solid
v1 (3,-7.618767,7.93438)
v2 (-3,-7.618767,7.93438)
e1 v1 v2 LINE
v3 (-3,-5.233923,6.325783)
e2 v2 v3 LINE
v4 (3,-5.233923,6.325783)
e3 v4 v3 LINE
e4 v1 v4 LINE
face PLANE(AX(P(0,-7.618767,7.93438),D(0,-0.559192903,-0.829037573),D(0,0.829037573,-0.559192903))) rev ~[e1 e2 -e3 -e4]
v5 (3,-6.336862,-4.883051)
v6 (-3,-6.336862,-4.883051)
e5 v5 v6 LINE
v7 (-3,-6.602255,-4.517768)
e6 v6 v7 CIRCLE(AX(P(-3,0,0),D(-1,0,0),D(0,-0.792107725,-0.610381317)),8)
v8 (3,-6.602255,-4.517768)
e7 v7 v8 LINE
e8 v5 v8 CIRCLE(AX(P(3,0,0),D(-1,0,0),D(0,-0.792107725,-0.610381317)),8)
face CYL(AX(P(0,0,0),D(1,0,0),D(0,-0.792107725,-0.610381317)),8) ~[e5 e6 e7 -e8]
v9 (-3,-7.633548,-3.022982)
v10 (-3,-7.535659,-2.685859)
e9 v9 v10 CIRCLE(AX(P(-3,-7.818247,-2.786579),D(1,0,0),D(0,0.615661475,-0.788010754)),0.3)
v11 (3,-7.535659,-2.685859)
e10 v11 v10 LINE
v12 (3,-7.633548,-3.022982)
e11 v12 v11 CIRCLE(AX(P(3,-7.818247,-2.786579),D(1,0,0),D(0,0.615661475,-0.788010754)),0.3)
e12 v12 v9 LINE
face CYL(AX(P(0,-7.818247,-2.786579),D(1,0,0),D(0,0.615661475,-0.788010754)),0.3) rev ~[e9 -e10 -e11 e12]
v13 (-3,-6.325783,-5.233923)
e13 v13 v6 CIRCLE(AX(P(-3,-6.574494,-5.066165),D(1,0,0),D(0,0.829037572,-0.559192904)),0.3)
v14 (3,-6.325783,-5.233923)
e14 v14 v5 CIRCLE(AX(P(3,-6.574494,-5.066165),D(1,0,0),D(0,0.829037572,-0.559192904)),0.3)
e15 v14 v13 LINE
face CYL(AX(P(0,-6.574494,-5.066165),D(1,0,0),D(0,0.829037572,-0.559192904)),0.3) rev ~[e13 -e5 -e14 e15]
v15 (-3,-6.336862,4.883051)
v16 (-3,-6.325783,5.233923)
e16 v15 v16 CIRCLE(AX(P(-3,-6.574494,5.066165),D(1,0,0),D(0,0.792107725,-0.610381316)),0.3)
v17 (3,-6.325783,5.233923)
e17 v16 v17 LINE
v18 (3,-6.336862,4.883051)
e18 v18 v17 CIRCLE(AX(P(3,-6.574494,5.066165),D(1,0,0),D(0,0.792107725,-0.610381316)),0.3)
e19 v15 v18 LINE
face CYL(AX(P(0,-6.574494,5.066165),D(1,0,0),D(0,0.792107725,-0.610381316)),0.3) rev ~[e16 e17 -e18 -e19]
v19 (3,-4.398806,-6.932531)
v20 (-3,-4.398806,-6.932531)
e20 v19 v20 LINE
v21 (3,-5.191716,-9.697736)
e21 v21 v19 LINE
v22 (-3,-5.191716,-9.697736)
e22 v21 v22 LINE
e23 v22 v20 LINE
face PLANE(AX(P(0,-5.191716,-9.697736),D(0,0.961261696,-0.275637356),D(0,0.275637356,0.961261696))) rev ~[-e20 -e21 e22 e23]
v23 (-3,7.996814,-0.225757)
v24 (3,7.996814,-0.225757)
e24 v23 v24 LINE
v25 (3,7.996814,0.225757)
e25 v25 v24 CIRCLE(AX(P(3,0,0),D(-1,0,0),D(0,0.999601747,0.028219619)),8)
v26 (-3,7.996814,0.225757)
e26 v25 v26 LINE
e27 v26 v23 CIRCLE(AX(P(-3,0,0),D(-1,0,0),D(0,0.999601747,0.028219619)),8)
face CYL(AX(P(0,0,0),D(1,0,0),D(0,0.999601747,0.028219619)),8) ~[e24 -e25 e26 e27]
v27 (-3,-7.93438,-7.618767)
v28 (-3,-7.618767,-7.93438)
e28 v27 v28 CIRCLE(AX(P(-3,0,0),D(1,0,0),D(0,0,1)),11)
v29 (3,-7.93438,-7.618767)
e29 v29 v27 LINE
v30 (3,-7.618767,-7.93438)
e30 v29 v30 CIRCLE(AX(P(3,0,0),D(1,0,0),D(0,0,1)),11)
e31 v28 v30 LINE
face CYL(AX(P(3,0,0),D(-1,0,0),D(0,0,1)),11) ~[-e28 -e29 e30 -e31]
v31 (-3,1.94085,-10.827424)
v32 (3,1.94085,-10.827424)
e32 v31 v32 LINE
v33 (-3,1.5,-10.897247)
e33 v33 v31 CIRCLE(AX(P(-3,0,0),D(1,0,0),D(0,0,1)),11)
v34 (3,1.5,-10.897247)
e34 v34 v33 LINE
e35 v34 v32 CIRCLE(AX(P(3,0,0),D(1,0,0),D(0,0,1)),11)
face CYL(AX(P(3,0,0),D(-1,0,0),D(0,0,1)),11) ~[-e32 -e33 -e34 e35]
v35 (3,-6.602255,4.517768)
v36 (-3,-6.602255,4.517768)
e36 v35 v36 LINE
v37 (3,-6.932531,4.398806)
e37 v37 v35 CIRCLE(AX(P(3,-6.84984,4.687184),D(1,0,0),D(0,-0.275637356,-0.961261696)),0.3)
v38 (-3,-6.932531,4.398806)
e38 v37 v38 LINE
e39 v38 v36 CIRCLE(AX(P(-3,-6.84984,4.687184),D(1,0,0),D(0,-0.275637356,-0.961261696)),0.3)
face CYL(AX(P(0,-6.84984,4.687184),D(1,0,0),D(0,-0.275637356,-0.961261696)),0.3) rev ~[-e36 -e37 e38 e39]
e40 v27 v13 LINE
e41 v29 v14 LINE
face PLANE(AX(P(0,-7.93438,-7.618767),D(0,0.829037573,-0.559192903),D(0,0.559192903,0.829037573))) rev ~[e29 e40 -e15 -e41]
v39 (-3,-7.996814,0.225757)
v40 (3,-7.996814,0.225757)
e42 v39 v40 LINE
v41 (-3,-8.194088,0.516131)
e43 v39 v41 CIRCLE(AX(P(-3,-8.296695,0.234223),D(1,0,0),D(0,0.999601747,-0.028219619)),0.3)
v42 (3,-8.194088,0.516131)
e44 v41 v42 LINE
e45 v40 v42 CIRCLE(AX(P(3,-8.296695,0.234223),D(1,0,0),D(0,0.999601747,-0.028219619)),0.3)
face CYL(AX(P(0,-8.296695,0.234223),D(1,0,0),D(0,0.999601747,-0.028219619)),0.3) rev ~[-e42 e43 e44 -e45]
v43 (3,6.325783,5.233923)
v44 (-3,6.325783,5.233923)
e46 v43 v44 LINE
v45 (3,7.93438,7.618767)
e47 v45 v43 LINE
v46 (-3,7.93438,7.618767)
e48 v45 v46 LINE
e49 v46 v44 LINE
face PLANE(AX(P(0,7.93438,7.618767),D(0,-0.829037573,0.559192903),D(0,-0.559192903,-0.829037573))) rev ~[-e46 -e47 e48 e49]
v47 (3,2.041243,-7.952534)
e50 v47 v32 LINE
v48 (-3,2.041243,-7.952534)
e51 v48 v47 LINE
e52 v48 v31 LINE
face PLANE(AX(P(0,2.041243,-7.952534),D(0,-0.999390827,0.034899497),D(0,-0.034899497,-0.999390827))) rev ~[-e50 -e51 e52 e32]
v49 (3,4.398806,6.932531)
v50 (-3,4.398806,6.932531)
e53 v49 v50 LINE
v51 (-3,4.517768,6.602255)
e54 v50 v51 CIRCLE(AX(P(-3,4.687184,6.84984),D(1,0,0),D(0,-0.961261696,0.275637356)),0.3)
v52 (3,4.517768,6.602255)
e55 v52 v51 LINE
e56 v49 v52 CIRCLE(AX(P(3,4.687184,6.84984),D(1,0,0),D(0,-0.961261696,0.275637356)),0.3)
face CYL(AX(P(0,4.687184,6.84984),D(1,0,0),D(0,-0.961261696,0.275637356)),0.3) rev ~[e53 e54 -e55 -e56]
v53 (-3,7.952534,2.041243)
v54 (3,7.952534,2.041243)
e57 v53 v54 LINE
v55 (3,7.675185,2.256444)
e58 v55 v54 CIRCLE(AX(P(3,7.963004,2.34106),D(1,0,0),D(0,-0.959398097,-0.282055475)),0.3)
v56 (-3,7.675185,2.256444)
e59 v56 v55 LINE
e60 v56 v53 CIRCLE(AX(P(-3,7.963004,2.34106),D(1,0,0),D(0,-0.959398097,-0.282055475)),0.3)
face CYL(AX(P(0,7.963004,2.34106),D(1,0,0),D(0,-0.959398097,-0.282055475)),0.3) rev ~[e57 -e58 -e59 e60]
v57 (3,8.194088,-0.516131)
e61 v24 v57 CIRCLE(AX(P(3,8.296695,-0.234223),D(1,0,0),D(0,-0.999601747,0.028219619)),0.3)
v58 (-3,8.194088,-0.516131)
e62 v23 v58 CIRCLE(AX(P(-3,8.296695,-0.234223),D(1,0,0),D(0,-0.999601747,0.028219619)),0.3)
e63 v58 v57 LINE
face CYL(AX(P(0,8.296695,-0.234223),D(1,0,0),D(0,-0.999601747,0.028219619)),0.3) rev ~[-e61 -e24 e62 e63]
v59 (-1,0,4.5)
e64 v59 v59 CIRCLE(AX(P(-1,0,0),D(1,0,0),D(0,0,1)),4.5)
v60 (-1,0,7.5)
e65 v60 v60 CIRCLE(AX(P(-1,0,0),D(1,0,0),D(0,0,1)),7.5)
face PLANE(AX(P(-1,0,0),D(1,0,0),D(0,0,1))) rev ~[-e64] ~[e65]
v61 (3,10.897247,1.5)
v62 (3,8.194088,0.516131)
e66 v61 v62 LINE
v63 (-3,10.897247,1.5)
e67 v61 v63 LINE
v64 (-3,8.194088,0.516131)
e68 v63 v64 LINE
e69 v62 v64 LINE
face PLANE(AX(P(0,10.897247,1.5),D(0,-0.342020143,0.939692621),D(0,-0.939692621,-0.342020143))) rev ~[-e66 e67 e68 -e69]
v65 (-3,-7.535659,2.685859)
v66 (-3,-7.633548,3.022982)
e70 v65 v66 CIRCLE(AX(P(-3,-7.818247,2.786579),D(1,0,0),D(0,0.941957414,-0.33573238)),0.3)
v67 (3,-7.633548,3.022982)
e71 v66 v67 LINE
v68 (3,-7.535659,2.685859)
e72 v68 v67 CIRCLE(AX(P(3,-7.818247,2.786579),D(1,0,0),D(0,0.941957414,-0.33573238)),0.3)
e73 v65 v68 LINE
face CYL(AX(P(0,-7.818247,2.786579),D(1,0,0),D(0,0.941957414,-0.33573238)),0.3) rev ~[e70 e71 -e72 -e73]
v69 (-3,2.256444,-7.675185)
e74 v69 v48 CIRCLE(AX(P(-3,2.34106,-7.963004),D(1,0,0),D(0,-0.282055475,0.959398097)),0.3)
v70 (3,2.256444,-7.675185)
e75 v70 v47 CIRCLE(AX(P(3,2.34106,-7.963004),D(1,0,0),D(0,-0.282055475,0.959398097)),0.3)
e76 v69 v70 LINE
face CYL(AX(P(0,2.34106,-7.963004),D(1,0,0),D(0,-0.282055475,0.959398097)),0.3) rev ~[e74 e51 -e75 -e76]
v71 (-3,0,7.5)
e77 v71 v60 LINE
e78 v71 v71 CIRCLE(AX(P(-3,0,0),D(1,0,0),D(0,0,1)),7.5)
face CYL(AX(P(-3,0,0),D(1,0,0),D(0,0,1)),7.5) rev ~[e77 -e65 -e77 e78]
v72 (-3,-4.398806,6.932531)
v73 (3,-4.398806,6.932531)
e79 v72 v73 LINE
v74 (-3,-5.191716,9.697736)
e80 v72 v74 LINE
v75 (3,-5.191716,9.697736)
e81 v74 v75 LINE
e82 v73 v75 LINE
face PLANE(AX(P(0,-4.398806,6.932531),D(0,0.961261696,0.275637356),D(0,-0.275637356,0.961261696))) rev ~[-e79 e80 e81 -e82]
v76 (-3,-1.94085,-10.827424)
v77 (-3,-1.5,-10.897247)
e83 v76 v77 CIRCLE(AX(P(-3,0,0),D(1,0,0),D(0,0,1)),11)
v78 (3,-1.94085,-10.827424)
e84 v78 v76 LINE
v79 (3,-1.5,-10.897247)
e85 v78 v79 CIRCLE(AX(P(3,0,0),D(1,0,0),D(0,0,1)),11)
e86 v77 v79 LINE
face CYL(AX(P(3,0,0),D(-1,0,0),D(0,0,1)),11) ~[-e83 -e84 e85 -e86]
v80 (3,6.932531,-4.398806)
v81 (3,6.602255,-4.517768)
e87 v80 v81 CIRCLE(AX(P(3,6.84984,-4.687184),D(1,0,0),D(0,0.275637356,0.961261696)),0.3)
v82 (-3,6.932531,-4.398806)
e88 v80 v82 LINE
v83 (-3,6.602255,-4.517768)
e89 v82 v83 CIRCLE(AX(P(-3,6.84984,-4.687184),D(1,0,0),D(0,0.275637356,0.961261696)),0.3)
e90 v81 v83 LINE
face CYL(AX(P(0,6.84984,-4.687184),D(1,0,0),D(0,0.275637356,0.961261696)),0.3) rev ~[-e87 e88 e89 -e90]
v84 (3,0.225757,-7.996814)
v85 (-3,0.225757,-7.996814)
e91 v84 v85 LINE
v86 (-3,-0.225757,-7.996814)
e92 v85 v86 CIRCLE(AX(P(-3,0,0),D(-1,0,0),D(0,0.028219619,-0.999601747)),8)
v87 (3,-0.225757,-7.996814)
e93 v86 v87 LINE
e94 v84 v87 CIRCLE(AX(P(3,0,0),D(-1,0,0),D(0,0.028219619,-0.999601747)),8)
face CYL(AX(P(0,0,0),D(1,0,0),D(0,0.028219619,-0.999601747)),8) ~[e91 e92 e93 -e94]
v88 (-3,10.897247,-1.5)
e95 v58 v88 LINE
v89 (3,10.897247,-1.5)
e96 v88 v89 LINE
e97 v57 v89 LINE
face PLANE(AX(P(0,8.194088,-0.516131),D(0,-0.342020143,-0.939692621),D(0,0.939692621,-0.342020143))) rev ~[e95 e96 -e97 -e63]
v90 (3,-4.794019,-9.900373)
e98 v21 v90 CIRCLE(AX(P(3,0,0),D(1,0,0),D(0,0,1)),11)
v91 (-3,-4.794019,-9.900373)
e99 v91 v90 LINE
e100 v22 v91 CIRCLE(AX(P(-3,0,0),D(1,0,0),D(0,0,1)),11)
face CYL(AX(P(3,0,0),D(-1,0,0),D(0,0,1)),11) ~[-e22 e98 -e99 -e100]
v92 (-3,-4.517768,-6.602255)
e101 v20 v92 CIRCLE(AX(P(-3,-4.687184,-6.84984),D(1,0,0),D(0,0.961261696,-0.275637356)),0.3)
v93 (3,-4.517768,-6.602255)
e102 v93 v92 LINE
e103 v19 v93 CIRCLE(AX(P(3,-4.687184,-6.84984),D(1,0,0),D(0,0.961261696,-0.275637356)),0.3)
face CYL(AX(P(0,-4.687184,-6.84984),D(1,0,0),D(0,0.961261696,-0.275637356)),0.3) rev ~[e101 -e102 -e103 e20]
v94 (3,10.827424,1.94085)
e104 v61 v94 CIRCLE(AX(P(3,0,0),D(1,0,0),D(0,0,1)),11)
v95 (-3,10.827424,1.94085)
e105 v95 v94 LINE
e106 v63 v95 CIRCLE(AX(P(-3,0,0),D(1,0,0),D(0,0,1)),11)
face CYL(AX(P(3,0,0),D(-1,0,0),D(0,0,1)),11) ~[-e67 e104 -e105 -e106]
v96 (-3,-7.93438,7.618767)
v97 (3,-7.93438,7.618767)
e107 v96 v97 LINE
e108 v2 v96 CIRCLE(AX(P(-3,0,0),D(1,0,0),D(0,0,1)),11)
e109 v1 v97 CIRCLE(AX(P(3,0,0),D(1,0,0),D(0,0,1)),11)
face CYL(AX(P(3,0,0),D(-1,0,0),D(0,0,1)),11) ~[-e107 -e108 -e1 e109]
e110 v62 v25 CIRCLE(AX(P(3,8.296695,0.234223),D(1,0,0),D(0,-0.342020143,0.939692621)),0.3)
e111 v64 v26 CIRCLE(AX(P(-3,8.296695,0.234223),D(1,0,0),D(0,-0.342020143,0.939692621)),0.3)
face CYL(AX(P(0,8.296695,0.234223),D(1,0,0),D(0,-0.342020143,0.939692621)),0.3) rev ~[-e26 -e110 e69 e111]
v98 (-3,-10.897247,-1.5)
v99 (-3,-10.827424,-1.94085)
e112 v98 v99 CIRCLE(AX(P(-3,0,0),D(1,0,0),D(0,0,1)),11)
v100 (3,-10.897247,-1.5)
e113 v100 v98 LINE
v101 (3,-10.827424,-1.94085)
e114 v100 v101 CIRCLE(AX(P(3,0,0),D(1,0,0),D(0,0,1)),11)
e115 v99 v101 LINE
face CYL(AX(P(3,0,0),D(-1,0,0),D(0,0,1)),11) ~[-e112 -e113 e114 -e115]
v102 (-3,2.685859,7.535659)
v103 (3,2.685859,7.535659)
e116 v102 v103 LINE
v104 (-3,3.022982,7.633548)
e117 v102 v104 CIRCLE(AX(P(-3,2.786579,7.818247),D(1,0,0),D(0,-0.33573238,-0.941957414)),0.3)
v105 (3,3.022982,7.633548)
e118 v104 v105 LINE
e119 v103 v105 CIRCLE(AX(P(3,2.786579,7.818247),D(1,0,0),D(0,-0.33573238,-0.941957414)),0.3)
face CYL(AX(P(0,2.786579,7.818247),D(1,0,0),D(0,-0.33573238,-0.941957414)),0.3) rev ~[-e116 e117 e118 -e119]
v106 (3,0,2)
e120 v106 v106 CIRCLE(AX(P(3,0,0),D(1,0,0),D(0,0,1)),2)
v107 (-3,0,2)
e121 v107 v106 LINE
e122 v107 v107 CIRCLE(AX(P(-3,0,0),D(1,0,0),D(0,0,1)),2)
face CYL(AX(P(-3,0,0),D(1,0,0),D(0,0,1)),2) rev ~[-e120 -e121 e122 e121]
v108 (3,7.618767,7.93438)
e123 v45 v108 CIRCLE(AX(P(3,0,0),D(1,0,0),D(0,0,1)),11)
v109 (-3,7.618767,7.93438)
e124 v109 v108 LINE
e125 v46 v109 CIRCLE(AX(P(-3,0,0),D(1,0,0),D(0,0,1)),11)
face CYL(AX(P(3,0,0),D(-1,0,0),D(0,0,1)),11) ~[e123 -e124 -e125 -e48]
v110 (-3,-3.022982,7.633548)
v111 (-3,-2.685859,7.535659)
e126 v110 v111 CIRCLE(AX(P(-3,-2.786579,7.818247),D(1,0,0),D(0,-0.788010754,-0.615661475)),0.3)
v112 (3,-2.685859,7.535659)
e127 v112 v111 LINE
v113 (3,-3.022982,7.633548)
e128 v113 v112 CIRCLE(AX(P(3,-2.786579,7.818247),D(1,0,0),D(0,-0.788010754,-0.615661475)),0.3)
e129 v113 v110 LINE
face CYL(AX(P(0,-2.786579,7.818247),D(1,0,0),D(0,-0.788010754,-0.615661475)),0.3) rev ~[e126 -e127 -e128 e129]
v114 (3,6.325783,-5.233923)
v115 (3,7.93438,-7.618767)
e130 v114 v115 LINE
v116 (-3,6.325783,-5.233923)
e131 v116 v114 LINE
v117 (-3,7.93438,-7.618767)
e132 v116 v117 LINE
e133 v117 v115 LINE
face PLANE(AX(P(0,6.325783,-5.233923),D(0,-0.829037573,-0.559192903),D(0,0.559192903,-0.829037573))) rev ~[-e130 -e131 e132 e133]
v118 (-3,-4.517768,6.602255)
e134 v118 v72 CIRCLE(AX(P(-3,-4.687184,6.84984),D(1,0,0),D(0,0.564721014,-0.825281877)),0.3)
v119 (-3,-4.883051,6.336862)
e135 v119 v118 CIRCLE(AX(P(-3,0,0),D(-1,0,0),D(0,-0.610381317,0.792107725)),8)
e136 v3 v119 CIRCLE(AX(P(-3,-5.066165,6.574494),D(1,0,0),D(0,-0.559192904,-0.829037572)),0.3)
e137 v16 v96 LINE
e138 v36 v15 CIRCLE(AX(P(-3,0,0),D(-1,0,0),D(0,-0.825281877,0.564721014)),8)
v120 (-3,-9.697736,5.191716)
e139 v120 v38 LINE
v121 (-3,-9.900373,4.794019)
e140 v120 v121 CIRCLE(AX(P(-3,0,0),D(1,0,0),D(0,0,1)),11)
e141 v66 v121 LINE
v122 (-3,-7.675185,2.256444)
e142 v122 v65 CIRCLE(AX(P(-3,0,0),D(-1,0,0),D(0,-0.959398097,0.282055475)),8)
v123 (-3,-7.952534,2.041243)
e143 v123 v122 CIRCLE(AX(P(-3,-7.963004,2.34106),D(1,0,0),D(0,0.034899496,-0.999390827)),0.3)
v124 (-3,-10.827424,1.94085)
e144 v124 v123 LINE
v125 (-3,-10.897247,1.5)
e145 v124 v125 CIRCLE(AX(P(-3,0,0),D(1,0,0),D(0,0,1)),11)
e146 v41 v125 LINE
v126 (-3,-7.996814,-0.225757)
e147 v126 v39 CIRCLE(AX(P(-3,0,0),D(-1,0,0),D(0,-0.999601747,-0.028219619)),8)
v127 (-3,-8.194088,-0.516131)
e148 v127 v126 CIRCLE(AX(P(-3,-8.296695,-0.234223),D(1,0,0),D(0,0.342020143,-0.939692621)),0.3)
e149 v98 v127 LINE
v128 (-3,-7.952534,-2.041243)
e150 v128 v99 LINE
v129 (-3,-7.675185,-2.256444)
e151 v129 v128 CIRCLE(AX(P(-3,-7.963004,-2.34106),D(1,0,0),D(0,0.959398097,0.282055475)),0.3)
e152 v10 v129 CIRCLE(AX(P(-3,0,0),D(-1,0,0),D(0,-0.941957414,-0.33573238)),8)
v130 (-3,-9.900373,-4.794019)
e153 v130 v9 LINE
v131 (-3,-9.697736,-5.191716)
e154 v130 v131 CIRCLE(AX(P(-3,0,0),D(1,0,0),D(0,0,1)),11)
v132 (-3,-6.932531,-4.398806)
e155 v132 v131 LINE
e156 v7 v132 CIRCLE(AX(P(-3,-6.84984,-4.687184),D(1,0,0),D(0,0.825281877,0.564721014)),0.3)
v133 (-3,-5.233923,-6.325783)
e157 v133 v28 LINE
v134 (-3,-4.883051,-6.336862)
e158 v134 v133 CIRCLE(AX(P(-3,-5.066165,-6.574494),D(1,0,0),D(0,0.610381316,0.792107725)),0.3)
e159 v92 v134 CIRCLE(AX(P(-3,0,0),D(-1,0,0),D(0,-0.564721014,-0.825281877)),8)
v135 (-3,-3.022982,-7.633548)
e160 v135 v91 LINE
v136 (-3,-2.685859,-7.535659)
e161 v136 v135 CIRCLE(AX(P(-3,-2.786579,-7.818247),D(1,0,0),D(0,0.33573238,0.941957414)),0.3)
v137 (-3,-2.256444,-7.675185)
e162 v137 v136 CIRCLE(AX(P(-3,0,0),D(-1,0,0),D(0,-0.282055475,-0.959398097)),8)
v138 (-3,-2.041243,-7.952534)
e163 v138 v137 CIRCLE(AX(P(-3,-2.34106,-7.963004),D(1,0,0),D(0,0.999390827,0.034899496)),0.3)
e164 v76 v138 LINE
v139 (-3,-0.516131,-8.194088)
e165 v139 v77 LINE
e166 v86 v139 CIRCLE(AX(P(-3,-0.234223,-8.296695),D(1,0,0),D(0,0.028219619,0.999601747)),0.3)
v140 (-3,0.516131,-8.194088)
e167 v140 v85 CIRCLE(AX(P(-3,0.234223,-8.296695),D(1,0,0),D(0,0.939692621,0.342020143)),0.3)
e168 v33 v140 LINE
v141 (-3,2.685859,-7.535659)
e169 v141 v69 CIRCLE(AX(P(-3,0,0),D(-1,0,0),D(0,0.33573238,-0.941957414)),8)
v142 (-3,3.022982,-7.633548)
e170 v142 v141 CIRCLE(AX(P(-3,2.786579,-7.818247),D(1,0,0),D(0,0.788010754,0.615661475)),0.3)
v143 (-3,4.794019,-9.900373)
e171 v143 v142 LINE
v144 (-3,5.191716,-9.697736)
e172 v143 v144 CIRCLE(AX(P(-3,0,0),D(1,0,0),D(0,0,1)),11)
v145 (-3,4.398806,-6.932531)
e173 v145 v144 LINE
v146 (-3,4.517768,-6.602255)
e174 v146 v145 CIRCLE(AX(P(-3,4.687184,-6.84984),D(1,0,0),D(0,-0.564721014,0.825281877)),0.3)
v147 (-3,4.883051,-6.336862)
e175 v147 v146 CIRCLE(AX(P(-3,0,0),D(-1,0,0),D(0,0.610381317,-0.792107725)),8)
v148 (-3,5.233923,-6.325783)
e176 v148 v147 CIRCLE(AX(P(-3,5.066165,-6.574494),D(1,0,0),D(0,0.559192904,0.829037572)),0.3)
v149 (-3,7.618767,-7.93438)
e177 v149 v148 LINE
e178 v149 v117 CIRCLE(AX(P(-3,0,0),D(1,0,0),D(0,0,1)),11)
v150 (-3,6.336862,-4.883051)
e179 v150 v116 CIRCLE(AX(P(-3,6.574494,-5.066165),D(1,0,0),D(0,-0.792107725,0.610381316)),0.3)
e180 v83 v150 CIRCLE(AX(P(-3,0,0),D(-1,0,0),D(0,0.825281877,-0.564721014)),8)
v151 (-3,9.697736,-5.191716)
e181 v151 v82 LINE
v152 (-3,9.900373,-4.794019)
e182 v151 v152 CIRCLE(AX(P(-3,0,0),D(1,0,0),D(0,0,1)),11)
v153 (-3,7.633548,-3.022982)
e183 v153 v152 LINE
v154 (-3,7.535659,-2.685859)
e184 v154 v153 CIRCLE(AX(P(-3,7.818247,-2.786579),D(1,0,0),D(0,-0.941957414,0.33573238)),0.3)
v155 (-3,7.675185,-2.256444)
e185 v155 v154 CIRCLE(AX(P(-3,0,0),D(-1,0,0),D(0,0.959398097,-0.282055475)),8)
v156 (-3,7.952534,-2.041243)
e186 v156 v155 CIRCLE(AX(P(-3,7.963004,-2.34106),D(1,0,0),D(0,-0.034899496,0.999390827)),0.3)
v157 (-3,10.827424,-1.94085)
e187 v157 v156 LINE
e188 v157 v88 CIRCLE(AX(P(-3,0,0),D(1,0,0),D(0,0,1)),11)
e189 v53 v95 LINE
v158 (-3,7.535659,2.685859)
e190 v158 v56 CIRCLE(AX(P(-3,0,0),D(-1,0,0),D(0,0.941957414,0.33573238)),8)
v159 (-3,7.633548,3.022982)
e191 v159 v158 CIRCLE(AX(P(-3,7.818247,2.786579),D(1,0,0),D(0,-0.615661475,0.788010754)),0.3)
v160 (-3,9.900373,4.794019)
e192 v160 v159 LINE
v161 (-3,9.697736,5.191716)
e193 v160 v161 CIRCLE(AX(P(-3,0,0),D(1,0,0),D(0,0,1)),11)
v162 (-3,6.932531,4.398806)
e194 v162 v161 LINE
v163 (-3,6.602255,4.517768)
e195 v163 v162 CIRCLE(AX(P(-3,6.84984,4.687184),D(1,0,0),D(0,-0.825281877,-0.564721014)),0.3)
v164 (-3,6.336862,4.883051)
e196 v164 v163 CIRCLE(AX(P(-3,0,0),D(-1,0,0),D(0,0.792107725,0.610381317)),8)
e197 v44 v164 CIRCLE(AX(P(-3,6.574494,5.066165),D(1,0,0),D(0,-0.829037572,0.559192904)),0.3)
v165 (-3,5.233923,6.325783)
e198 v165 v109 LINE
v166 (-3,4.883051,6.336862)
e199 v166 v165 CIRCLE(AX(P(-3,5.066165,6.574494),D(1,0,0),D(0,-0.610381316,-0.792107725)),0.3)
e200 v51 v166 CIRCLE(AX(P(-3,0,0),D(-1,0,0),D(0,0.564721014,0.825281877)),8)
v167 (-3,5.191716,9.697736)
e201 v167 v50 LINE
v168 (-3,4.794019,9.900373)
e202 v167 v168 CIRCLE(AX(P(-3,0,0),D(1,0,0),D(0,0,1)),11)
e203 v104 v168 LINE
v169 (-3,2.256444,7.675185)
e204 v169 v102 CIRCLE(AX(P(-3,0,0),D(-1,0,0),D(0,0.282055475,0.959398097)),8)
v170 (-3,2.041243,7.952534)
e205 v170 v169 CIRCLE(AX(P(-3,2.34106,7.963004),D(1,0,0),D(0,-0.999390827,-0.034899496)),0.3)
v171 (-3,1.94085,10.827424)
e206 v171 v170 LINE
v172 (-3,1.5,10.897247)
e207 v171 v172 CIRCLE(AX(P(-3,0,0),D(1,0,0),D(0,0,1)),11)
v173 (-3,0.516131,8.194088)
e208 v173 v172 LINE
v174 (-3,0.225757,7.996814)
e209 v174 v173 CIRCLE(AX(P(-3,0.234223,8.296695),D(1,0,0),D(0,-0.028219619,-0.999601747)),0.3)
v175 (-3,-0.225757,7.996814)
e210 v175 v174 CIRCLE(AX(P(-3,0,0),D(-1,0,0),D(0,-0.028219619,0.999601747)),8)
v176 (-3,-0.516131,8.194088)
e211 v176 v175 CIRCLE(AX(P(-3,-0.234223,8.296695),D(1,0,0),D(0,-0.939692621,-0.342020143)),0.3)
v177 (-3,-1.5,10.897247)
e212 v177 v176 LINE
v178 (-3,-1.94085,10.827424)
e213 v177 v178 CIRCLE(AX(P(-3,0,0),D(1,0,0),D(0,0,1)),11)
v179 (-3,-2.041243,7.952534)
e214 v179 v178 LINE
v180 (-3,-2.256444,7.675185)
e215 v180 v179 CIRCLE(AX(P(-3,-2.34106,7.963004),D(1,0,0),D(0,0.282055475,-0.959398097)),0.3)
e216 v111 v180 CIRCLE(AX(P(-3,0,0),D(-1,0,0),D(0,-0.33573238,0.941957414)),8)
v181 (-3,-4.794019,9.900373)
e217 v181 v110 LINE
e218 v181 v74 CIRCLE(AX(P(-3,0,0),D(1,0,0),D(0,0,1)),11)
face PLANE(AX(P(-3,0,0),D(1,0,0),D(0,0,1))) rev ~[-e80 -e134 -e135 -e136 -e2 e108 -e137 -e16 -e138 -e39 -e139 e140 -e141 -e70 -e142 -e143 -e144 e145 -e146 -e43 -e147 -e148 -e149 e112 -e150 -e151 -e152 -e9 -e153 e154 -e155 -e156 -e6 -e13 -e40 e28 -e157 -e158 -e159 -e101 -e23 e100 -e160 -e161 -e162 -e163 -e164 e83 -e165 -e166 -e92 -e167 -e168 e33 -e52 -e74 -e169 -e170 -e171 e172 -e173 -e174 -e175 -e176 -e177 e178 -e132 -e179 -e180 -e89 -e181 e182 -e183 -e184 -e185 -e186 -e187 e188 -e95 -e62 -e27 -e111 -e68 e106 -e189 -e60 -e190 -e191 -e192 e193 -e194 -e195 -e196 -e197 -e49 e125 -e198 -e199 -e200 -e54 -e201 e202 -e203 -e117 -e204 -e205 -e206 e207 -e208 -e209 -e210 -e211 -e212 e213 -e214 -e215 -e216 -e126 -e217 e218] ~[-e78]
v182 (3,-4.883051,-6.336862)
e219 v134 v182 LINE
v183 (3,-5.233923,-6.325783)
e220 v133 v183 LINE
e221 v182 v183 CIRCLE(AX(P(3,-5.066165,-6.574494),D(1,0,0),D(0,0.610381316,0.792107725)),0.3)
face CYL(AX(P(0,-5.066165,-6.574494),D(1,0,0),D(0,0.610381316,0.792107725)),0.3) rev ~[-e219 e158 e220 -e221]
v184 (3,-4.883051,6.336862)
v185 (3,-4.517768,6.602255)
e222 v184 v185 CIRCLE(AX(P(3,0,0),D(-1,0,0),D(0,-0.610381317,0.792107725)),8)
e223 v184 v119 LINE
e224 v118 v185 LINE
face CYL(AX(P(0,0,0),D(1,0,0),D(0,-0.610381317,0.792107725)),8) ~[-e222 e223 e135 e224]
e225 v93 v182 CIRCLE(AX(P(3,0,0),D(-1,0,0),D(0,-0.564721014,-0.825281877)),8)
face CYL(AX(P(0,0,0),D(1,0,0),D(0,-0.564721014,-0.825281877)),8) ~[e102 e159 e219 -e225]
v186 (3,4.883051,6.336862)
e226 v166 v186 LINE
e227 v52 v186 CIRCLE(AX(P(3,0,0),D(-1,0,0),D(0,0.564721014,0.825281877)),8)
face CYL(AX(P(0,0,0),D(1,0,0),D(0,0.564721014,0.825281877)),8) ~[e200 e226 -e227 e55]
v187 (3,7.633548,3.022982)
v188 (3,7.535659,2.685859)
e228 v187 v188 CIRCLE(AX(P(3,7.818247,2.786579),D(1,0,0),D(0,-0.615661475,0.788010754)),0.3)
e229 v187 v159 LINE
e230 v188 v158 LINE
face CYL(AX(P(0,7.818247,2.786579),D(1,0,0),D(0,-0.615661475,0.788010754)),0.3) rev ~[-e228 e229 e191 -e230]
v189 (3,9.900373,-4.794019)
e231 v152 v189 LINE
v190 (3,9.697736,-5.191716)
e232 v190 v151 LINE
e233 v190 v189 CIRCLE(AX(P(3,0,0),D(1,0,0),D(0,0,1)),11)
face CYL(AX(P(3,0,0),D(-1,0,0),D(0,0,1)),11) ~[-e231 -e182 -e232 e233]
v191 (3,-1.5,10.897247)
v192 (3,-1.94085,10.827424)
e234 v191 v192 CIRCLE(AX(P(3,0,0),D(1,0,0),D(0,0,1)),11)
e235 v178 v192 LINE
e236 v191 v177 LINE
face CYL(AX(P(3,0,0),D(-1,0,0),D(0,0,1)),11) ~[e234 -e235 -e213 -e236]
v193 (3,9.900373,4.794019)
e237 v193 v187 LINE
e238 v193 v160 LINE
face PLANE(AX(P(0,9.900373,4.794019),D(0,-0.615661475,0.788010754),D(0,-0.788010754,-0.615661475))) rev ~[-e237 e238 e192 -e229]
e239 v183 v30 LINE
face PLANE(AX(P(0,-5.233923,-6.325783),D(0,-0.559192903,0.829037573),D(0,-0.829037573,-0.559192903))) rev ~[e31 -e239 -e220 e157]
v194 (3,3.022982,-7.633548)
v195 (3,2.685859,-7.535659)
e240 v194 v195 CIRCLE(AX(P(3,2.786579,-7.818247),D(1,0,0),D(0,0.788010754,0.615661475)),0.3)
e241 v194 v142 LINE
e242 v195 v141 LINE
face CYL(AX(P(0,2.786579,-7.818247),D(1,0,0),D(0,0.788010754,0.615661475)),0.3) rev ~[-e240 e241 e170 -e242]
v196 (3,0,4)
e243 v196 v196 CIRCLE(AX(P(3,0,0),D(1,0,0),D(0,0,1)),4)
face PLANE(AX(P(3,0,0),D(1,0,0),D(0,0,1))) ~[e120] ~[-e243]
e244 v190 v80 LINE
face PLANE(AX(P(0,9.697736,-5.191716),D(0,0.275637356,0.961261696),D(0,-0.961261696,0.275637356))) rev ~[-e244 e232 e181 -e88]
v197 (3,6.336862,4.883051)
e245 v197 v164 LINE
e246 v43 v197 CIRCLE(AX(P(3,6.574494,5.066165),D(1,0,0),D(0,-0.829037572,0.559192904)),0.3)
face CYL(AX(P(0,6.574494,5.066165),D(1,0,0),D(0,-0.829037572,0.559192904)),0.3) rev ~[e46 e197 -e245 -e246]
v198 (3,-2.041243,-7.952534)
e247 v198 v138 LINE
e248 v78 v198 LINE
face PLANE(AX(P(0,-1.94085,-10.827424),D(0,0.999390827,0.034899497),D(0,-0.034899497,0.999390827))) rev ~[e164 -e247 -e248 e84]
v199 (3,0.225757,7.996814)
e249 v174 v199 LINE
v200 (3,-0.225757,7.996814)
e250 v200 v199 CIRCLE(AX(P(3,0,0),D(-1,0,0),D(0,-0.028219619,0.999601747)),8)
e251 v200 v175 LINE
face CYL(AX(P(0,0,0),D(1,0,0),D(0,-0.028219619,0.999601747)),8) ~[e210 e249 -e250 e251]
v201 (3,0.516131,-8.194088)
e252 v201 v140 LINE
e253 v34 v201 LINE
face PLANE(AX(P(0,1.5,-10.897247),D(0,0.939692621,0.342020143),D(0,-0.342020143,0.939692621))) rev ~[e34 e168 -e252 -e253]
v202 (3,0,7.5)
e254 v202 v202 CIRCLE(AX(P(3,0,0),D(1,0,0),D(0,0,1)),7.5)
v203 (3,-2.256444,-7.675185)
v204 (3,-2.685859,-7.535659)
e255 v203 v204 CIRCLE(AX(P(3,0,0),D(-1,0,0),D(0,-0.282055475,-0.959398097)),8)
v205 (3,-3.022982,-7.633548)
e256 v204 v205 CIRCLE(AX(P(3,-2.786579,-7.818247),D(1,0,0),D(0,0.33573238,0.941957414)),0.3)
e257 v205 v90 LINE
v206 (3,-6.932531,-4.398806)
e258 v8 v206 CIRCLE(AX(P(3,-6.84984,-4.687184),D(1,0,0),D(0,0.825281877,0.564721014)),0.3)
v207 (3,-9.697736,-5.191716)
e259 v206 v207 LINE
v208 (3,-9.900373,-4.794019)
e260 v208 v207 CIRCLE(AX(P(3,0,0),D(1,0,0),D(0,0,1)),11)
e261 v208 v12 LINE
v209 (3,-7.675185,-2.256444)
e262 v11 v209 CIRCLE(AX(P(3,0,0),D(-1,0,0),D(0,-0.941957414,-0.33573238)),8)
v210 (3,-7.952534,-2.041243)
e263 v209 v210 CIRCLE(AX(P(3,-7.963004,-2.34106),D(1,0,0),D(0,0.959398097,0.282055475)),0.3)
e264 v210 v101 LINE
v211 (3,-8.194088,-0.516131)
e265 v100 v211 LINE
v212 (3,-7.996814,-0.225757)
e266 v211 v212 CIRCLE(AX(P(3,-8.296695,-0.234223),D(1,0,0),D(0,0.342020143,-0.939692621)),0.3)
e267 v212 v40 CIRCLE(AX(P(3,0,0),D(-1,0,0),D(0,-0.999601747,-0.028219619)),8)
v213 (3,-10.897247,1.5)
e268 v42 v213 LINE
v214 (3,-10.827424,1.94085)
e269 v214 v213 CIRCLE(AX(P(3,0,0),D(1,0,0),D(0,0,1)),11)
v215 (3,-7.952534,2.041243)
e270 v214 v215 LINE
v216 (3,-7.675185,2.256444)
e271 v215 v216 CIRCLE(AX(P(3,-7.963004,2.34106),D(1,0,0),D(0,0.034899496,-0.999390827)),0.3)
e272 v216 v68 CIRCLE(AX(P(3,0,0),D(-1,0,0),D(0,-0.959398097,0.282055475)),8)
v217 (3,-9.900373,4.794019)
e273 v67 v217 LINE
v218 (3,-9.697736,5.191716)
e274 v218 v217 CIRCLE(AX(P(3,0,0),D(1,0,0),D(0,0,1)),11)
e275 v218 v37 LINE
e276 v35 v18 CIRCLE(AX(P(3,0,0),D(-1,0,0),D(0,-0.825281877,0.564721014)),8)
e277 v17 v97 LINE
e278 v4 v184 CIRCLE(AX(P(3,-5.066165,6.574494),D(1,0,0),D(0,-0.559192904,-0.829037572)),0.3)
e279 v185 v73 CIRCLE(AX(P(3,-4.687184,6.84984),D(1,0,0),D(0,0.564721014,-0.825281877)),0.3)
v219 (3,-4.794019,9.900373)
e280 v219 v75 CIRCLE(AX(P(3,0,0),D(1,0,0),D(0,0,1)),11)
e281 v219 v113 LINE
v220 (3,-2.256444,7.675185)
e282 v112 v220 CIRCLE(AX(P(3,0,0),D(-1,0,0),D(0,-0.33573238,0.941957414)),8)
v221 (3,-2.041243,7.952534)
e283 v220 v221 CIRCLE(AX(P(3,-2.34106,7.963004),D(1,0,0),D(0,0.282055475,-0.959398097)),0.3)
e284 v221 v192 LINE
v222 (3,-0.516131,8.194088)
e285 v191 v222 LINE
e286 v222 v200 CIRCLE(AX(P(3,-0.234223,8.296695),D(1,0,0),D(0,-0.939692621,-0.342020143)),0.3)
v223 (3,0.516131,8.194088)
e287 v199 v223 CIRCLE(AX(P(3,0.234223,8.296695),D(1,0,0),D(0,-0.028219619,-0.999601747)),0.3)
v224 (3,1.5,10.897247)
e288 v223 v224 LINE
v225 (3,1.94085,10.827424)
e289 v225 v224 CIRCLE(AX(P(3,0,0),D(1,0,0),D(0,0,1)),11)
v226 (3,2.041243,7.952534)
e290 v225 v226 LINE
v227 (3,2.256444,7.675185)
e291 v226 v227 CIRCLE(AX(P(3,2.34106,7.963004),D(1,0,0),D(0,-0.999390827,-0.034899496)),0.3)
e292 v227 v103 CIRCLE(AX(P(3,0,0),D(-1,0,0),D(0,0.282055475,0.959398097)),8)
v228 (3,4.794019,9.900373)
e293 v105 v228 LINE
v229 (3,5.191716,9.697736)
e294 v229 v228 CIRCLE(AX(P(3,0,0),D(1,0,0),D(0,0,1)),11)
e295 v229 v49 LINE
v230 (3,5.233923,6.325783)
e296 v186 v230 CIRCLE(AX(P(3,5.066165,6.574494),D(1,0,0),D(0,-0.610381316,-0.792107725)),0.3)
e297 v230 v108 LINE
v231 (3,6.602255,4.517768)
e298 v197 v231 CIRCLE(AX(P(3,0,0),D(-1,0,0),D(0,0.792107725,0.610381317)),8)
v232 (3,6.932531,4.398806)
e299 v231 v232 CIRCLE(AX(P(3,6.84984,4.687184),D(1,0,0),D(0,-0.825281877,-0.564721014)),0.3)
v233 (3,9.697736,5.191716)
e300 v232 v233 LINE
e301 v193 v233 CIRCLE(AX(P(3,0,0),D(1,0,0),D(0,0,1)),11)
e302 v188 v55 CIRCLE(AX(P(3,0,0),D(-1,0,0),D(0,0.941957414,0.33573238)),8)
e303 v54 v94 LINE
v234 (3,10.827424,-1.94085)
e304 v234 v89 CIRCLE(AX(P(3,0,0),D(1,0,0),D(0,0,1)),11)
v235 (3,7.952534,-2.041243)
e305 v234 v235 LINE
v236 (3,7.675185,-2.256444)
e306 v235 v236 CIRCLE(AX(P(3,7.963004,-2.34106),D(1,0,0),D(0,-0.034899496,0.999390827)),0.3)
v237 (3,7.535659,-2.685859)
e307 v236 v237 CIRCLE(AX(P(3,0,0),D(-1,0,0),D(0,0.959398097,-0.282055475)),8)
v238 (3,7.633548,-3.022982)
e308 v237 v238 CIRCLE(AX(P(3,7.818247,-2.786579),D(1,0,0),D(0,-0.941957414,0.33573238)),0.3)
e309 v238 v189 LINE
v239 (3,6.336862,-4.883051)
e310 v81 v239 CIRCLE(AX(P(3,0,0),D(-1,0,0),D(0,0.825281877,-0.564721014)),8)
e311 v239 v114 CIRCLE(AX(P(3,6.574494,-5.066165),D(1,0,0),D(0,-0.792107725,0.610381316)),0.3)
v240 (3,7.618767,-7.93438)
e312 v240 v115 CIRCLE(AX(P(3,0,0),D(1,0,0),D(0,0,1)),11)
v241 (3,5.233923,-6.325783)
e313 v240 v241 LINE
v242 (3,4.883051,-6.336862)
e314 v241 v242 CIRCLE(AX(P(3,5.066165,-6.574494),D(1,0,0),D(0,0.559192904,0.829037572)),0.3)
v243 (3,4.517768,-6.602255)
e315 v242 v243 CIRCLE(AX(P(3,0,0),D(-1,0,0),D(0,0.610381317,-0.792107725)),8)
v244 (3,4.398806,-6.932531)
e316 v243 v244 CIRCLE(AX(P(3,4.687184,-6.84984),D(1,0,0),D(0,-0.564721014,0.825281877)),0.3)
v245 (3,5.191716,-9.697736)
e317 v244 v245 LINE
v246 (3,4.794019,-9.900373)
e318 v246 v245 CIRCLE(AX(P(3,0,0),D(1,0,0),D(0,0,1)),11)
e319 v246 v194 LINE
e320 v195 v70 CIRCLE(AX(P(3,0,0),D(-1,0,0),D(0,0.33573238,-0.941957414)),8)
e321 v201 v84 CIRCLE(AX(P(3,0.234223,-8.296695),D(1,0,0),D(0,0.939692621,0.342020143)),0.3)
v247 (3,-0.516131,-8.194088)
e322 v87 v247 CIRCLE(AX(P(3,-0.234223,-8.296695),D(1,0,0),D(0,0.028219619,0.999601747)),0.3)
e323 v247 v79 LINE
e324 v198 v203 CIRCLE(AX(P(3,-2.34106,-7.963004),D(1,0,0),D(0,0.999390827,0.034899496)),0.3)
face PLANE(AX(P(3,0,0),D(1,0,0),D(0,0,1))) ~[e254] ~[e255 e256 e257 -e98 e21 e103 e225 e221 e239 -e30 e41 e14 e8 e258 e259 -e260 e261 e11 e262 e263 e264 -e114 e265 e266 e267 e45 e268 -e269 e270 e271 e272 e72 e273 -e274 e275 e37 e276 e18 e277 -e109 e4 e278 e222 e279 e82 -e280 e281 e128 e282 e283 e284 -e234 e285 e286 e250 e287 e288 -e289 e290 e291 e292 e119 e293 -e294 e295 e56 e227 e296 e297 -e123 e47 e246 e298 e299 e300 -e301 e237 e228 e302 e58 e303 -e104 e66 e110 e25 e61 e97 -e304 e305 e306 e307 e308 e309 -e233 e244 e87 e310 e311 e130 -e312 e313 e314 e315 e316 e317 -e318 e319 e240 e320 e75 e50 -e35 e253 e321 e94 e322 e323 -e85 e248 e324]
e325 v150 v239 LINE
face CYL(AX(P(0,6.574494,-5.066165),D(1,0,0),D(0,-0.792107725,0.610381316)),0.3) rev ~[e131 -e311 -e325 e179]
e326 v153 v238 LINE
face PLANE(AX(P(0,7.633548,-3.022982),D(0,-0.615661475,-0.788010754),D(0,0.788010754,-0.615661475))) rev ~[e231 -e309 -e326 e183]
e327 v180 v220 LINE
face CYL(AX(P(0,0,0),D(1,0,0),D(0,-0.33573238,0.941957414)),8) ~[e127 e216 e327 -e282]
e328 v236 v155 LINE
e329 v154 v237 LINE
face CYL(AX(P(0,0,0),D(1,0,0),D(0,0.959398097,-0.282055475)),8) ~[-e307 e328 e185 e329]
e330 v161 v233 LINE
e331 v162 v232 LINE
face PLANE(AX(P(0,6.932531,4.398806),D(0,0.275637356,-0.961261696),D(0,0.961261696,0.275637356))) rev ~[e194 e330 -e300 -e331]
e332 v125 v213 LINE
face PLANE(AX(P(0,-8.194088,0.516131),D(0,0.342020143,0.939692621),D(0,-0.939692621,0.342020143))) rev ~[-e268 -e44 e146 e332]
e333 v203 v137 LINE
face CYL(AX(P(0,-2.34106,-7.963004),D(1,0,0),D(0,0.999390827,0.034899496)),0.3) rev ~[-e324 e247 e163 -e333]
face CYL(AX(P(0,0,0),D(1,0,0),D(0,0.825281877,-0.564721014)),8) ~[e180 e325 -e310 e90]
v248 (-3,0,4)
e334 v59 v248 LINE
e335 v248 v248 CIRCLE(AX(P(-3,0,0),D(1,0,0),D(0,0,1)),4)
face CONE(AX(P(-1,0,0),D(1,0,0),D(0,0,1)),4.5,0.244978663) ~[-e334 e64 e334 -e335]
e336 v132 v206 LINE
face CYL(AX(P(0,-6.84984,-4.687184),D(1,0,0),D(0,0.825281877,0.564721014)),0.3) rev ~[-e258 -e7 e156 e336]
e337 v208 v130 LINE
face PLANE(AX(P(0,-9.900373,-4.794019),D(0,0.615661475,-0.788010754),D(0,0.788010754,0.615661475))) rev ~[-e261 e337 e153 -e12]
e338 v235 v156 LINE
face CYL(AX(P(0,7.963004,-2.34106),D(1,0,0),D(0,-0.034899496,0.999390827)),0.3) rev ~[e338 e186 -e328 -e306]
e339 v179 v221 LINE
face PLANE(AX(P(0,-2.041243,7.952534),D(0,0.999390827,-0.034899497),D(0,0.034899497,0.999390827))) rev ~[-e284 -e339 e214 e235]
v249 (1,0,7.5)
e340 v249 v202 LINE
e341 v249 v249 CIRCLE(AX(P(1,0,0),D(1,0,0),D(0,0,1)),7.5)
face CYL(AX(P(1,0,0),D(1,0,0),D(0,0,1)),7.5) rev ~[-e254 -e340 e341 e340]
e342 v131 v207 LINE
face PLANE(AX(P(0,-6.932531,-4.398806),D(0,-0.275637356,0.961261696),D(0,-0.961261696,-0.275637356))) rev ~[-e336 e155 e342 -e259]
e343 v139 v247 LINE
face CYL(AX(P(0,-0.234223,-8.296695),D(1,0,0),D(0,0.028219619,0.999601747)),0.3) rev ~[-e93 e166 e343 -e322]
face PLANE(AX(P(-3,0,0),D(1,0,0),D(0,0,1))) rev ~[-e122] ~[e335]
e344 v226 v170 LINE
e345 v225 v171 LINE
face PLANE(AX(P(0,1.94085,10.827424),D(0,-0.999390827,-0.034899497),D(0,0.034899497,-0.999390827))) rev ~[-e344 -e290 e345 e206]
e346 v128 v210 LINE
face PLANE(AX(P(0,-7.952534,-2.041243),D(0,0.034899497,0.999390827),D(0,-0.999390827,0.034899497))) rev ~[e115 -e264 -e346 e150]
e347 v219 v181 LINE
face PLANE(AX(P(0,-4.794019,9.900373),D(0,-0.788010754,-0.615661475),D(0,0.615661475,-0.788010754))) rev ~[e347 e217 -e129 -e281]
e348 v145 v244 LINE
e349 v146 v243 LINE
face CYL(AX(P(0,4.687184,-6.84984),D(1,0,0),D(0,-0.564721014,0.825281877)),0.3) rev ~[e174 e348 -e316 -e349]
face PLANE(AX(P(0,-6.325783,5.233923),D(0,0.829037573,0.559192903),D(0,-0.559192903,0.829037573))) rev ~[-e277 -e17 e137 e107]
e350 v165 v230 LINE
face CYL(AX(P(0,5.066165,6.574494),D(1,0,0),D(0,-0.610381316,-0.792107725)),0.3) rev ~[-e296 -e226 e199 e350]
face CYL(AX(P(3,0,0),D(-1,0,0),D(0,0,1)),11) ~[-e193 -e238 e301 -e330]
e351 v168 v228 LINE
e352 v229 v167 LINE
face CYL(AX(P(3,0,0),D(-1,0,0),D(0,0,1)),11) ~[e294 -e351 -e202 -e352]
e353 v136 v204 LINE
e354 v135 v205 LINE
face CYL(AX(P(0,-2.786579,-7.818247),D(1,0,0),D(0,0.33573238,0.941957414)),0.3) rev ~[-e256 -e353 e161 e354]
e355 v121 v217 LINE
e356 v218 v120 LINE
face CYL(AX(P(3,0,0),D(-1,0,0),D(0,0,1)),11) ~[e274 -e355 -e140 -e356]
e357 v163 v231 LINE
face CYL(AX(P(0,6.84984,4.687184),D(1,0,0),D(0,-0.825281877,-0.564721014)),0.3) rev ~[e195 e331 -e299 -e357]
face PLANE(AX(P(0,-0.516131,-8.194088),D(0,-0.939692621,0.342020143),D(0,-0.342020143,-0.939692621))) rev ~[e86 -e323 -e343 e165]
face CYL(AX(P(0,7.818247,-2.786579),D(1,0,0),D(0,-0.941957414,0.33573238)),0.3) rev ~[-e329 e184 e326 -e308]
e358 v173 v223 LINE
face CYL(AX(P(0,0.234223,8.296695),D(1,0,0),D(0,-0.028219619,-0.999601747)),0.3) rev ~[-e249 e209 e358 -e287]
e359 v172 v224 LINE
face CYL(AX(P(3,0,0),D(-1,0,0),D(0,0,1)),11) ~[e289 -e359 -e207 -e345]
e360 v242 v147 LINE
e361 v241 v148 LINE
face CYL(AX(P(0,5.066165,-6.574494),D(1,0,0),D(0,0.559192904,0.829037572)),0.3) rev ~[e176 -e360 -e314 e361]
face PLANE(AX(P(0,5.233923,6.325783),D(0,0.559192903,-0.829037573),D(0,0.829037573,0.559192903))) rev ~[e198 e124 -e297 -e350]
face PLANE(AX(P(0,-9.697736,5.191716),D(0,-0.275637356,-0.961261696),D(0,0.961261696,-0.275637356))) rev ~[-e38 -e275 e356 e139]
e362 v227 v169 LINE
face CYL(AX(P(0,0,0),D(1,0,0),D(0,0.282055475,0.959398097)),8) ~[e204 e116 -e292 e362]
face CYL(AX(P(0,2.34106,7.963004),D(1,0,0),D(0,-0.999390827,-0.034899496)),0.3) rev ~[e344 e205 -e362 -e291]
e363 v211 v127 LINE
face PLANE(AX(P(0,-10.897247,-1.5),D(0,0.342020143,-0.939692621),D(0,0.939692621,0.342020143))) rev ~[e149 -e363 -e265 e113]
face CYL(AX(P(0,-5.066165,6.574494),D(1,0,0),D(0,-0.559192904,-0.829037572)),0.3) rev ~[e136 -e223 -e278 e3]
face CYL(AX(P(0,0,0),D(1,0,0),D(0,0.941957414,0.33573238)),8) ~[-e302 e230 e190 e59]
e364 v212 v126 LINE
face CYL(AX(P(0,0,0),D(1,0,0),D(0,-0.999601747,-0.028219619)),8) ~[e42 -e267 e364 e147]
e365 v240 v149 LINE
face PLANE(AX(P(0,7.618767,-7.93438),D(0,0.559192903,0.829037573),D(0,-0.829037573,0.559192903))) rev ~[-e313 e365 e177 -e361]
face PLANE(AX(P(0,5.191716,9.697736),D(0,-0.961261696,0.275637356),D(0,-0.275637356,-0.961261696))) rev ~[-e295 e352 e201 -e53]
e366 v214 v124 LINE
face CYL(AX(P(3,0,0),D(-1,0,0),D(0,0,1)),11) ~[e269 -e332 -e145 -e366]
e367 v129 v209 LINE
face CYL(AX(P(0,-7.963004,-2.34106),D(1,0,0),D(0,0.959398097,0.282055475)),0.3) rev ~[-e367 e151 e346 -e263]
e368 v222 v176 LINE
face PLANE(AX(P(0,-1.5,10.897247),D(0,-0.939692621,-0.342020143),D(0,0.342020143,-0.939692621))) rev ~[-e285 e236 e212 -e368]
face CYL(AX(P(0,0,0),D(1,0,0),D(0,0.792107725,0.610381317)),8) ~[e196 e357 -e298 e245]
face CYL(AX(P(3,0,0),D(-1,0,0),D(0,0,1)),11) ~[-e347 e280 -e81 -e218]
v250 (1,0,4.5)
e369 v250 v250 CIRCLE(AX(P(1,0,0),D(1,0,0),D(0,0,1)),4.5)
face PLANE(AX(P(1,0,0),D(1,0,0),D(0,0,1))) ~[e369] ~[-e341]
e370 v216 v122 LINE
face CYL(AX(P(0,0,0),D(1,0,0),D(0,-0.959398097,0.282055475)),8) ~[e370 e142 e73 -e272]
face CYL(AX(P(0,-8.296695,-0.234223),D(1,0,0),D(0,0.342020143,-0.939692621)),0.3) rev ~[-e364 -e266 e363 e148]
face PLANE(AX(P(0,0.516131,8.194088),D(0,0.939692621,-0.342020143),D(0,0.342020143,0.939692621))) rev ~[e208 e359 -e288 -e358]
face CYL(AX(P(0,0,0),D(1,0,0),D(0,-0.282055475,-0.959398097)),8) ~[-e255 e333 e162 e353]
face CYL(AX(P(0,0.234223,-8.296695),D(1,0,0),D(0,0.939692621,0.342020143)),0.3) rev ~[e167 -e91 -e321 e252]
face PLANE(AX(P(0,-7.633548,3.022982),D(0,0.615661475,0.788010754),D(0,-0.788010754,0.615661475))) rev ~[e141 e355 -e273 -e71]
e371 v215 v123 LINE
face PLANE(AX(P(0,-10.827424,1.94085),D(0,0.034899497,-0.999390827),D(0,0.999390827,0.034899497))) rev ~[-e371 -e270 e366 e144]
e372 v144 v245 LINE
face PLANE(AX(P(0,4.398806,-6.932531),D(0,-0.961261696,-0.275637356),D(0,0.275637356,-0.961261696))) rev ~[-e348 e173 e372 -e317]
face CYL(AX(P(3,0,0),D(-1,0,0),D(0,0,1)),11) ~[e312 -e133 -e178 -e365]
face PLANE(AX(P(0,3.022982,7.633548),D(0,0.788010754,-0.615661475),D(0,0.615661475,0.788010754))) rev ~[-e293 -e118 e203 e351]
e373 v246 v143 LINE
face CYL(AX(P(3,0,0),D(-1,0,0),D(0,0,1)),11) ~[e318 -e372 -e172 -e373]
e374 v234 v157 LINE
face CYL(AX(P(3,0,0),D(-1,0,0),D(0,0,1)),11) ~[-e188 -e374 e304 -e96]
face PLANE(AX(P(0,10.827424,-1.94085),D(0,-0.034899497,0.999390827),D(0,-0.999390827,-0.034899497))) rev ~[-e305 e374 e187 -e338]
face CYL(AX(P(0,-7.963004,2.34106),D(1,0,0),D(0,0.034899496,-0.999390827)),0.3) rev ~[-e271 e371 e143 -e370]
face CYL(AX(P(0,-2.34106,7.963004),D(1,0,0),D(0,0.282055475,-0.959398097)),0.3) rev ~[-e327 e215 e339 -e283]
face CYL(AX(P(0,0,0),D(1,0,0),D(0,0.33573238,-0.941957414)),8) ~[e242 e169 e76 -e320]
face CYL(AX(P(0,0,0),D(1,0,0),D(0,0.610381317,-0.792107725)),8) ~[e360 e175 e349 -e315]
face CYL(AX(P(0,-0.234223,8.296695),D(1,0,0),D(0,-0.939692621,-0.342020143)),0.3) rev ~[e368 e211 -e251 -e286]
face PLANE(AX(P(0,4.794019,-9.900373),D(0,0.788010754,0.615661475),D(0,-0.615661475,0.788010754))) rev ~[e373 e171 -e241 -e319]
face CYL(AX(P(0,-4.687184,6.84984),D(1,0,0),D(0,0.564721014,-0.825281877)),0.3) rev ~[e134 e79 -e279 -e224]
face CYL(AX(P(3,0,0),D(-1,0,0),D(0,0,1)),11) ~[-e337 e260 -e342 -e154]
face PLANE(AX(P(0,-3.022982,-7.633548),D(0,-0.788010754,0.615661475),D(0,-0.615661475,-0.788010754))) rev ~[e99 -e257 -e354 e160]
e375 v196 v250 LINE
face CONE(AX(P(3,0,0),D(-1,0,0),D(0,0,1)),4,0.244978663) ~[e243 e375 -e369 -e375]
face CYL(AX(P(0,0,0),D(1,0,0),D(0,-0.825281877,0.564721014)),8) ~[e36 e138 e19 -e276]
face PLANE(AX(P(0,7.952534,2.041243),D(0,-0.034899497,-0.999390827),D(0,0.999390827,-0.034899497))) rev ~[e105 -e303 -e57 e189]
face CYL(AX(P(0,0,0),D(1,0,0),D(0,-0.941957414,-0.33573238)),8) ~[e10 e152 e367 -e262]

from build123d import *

# Parameters (mm, degrees)
F3_DEPTH = 3
F4_COUNT = 20


with BuildPart() as f1:
    # F0 (on Front) → F1 (revolve)
    with BuildSketch(Plane.XZ):
        Polygon((3, 11), (0, 11), (-3, 11), (-3, 7.5), (-1, 7.5), (-1, 4.5), (-3, 4), (-3, 2), (0, 2), (3, 2), (3, 4), (1, 4.5), (1, 7.5), (3, 7.5), align=None)
    revolve(axis=Axis((-1.5, 0, 0), (1, 0, 0)))

    # F2 (on Right) → F3 (cut, symmetric)
    with BuildSketch(Plane.YZ):
        with BuildLine():
            ThreePointArc((-0.2257569502, 7.996813978), (0, 8), (0.2257569502, 7.996813978))
            ThreePointArc((0.2257569502, 7.996813978), (0.4028108647, 8.0485451993), (0.516130622, 8.1940884592))
            Line((0.516130622, 8.1940884592), (1.5, 10.8972473589))
            ThreePointArc((1.5, 10.8972473589), (0, 11), (-1.5, 10.8972473589))
            Line((-1.5, 10.8972473589), (-0.516130622, 8.1940884592))
            ThreePointArc((-0.516130622, 8.1940884592), (-0.4028108647, 8.0485451993), (-0.2257569502, 7.996813978))
        make_face()
    f3 = extrude(amount=F3_DEPTH, both=True, mode=Mode.SUBTRACT)

    # F4: F3 ×20 about axis
    f4_axis = Axis((3, 0, 0), (-1, 0, 0))
    for i in range(1, F4_COUNT):
        add(f3.rotate(f4_axis, i * 360 / F4_COUNT), mode=Mode.SUBTRACT)


solid = f1.part
